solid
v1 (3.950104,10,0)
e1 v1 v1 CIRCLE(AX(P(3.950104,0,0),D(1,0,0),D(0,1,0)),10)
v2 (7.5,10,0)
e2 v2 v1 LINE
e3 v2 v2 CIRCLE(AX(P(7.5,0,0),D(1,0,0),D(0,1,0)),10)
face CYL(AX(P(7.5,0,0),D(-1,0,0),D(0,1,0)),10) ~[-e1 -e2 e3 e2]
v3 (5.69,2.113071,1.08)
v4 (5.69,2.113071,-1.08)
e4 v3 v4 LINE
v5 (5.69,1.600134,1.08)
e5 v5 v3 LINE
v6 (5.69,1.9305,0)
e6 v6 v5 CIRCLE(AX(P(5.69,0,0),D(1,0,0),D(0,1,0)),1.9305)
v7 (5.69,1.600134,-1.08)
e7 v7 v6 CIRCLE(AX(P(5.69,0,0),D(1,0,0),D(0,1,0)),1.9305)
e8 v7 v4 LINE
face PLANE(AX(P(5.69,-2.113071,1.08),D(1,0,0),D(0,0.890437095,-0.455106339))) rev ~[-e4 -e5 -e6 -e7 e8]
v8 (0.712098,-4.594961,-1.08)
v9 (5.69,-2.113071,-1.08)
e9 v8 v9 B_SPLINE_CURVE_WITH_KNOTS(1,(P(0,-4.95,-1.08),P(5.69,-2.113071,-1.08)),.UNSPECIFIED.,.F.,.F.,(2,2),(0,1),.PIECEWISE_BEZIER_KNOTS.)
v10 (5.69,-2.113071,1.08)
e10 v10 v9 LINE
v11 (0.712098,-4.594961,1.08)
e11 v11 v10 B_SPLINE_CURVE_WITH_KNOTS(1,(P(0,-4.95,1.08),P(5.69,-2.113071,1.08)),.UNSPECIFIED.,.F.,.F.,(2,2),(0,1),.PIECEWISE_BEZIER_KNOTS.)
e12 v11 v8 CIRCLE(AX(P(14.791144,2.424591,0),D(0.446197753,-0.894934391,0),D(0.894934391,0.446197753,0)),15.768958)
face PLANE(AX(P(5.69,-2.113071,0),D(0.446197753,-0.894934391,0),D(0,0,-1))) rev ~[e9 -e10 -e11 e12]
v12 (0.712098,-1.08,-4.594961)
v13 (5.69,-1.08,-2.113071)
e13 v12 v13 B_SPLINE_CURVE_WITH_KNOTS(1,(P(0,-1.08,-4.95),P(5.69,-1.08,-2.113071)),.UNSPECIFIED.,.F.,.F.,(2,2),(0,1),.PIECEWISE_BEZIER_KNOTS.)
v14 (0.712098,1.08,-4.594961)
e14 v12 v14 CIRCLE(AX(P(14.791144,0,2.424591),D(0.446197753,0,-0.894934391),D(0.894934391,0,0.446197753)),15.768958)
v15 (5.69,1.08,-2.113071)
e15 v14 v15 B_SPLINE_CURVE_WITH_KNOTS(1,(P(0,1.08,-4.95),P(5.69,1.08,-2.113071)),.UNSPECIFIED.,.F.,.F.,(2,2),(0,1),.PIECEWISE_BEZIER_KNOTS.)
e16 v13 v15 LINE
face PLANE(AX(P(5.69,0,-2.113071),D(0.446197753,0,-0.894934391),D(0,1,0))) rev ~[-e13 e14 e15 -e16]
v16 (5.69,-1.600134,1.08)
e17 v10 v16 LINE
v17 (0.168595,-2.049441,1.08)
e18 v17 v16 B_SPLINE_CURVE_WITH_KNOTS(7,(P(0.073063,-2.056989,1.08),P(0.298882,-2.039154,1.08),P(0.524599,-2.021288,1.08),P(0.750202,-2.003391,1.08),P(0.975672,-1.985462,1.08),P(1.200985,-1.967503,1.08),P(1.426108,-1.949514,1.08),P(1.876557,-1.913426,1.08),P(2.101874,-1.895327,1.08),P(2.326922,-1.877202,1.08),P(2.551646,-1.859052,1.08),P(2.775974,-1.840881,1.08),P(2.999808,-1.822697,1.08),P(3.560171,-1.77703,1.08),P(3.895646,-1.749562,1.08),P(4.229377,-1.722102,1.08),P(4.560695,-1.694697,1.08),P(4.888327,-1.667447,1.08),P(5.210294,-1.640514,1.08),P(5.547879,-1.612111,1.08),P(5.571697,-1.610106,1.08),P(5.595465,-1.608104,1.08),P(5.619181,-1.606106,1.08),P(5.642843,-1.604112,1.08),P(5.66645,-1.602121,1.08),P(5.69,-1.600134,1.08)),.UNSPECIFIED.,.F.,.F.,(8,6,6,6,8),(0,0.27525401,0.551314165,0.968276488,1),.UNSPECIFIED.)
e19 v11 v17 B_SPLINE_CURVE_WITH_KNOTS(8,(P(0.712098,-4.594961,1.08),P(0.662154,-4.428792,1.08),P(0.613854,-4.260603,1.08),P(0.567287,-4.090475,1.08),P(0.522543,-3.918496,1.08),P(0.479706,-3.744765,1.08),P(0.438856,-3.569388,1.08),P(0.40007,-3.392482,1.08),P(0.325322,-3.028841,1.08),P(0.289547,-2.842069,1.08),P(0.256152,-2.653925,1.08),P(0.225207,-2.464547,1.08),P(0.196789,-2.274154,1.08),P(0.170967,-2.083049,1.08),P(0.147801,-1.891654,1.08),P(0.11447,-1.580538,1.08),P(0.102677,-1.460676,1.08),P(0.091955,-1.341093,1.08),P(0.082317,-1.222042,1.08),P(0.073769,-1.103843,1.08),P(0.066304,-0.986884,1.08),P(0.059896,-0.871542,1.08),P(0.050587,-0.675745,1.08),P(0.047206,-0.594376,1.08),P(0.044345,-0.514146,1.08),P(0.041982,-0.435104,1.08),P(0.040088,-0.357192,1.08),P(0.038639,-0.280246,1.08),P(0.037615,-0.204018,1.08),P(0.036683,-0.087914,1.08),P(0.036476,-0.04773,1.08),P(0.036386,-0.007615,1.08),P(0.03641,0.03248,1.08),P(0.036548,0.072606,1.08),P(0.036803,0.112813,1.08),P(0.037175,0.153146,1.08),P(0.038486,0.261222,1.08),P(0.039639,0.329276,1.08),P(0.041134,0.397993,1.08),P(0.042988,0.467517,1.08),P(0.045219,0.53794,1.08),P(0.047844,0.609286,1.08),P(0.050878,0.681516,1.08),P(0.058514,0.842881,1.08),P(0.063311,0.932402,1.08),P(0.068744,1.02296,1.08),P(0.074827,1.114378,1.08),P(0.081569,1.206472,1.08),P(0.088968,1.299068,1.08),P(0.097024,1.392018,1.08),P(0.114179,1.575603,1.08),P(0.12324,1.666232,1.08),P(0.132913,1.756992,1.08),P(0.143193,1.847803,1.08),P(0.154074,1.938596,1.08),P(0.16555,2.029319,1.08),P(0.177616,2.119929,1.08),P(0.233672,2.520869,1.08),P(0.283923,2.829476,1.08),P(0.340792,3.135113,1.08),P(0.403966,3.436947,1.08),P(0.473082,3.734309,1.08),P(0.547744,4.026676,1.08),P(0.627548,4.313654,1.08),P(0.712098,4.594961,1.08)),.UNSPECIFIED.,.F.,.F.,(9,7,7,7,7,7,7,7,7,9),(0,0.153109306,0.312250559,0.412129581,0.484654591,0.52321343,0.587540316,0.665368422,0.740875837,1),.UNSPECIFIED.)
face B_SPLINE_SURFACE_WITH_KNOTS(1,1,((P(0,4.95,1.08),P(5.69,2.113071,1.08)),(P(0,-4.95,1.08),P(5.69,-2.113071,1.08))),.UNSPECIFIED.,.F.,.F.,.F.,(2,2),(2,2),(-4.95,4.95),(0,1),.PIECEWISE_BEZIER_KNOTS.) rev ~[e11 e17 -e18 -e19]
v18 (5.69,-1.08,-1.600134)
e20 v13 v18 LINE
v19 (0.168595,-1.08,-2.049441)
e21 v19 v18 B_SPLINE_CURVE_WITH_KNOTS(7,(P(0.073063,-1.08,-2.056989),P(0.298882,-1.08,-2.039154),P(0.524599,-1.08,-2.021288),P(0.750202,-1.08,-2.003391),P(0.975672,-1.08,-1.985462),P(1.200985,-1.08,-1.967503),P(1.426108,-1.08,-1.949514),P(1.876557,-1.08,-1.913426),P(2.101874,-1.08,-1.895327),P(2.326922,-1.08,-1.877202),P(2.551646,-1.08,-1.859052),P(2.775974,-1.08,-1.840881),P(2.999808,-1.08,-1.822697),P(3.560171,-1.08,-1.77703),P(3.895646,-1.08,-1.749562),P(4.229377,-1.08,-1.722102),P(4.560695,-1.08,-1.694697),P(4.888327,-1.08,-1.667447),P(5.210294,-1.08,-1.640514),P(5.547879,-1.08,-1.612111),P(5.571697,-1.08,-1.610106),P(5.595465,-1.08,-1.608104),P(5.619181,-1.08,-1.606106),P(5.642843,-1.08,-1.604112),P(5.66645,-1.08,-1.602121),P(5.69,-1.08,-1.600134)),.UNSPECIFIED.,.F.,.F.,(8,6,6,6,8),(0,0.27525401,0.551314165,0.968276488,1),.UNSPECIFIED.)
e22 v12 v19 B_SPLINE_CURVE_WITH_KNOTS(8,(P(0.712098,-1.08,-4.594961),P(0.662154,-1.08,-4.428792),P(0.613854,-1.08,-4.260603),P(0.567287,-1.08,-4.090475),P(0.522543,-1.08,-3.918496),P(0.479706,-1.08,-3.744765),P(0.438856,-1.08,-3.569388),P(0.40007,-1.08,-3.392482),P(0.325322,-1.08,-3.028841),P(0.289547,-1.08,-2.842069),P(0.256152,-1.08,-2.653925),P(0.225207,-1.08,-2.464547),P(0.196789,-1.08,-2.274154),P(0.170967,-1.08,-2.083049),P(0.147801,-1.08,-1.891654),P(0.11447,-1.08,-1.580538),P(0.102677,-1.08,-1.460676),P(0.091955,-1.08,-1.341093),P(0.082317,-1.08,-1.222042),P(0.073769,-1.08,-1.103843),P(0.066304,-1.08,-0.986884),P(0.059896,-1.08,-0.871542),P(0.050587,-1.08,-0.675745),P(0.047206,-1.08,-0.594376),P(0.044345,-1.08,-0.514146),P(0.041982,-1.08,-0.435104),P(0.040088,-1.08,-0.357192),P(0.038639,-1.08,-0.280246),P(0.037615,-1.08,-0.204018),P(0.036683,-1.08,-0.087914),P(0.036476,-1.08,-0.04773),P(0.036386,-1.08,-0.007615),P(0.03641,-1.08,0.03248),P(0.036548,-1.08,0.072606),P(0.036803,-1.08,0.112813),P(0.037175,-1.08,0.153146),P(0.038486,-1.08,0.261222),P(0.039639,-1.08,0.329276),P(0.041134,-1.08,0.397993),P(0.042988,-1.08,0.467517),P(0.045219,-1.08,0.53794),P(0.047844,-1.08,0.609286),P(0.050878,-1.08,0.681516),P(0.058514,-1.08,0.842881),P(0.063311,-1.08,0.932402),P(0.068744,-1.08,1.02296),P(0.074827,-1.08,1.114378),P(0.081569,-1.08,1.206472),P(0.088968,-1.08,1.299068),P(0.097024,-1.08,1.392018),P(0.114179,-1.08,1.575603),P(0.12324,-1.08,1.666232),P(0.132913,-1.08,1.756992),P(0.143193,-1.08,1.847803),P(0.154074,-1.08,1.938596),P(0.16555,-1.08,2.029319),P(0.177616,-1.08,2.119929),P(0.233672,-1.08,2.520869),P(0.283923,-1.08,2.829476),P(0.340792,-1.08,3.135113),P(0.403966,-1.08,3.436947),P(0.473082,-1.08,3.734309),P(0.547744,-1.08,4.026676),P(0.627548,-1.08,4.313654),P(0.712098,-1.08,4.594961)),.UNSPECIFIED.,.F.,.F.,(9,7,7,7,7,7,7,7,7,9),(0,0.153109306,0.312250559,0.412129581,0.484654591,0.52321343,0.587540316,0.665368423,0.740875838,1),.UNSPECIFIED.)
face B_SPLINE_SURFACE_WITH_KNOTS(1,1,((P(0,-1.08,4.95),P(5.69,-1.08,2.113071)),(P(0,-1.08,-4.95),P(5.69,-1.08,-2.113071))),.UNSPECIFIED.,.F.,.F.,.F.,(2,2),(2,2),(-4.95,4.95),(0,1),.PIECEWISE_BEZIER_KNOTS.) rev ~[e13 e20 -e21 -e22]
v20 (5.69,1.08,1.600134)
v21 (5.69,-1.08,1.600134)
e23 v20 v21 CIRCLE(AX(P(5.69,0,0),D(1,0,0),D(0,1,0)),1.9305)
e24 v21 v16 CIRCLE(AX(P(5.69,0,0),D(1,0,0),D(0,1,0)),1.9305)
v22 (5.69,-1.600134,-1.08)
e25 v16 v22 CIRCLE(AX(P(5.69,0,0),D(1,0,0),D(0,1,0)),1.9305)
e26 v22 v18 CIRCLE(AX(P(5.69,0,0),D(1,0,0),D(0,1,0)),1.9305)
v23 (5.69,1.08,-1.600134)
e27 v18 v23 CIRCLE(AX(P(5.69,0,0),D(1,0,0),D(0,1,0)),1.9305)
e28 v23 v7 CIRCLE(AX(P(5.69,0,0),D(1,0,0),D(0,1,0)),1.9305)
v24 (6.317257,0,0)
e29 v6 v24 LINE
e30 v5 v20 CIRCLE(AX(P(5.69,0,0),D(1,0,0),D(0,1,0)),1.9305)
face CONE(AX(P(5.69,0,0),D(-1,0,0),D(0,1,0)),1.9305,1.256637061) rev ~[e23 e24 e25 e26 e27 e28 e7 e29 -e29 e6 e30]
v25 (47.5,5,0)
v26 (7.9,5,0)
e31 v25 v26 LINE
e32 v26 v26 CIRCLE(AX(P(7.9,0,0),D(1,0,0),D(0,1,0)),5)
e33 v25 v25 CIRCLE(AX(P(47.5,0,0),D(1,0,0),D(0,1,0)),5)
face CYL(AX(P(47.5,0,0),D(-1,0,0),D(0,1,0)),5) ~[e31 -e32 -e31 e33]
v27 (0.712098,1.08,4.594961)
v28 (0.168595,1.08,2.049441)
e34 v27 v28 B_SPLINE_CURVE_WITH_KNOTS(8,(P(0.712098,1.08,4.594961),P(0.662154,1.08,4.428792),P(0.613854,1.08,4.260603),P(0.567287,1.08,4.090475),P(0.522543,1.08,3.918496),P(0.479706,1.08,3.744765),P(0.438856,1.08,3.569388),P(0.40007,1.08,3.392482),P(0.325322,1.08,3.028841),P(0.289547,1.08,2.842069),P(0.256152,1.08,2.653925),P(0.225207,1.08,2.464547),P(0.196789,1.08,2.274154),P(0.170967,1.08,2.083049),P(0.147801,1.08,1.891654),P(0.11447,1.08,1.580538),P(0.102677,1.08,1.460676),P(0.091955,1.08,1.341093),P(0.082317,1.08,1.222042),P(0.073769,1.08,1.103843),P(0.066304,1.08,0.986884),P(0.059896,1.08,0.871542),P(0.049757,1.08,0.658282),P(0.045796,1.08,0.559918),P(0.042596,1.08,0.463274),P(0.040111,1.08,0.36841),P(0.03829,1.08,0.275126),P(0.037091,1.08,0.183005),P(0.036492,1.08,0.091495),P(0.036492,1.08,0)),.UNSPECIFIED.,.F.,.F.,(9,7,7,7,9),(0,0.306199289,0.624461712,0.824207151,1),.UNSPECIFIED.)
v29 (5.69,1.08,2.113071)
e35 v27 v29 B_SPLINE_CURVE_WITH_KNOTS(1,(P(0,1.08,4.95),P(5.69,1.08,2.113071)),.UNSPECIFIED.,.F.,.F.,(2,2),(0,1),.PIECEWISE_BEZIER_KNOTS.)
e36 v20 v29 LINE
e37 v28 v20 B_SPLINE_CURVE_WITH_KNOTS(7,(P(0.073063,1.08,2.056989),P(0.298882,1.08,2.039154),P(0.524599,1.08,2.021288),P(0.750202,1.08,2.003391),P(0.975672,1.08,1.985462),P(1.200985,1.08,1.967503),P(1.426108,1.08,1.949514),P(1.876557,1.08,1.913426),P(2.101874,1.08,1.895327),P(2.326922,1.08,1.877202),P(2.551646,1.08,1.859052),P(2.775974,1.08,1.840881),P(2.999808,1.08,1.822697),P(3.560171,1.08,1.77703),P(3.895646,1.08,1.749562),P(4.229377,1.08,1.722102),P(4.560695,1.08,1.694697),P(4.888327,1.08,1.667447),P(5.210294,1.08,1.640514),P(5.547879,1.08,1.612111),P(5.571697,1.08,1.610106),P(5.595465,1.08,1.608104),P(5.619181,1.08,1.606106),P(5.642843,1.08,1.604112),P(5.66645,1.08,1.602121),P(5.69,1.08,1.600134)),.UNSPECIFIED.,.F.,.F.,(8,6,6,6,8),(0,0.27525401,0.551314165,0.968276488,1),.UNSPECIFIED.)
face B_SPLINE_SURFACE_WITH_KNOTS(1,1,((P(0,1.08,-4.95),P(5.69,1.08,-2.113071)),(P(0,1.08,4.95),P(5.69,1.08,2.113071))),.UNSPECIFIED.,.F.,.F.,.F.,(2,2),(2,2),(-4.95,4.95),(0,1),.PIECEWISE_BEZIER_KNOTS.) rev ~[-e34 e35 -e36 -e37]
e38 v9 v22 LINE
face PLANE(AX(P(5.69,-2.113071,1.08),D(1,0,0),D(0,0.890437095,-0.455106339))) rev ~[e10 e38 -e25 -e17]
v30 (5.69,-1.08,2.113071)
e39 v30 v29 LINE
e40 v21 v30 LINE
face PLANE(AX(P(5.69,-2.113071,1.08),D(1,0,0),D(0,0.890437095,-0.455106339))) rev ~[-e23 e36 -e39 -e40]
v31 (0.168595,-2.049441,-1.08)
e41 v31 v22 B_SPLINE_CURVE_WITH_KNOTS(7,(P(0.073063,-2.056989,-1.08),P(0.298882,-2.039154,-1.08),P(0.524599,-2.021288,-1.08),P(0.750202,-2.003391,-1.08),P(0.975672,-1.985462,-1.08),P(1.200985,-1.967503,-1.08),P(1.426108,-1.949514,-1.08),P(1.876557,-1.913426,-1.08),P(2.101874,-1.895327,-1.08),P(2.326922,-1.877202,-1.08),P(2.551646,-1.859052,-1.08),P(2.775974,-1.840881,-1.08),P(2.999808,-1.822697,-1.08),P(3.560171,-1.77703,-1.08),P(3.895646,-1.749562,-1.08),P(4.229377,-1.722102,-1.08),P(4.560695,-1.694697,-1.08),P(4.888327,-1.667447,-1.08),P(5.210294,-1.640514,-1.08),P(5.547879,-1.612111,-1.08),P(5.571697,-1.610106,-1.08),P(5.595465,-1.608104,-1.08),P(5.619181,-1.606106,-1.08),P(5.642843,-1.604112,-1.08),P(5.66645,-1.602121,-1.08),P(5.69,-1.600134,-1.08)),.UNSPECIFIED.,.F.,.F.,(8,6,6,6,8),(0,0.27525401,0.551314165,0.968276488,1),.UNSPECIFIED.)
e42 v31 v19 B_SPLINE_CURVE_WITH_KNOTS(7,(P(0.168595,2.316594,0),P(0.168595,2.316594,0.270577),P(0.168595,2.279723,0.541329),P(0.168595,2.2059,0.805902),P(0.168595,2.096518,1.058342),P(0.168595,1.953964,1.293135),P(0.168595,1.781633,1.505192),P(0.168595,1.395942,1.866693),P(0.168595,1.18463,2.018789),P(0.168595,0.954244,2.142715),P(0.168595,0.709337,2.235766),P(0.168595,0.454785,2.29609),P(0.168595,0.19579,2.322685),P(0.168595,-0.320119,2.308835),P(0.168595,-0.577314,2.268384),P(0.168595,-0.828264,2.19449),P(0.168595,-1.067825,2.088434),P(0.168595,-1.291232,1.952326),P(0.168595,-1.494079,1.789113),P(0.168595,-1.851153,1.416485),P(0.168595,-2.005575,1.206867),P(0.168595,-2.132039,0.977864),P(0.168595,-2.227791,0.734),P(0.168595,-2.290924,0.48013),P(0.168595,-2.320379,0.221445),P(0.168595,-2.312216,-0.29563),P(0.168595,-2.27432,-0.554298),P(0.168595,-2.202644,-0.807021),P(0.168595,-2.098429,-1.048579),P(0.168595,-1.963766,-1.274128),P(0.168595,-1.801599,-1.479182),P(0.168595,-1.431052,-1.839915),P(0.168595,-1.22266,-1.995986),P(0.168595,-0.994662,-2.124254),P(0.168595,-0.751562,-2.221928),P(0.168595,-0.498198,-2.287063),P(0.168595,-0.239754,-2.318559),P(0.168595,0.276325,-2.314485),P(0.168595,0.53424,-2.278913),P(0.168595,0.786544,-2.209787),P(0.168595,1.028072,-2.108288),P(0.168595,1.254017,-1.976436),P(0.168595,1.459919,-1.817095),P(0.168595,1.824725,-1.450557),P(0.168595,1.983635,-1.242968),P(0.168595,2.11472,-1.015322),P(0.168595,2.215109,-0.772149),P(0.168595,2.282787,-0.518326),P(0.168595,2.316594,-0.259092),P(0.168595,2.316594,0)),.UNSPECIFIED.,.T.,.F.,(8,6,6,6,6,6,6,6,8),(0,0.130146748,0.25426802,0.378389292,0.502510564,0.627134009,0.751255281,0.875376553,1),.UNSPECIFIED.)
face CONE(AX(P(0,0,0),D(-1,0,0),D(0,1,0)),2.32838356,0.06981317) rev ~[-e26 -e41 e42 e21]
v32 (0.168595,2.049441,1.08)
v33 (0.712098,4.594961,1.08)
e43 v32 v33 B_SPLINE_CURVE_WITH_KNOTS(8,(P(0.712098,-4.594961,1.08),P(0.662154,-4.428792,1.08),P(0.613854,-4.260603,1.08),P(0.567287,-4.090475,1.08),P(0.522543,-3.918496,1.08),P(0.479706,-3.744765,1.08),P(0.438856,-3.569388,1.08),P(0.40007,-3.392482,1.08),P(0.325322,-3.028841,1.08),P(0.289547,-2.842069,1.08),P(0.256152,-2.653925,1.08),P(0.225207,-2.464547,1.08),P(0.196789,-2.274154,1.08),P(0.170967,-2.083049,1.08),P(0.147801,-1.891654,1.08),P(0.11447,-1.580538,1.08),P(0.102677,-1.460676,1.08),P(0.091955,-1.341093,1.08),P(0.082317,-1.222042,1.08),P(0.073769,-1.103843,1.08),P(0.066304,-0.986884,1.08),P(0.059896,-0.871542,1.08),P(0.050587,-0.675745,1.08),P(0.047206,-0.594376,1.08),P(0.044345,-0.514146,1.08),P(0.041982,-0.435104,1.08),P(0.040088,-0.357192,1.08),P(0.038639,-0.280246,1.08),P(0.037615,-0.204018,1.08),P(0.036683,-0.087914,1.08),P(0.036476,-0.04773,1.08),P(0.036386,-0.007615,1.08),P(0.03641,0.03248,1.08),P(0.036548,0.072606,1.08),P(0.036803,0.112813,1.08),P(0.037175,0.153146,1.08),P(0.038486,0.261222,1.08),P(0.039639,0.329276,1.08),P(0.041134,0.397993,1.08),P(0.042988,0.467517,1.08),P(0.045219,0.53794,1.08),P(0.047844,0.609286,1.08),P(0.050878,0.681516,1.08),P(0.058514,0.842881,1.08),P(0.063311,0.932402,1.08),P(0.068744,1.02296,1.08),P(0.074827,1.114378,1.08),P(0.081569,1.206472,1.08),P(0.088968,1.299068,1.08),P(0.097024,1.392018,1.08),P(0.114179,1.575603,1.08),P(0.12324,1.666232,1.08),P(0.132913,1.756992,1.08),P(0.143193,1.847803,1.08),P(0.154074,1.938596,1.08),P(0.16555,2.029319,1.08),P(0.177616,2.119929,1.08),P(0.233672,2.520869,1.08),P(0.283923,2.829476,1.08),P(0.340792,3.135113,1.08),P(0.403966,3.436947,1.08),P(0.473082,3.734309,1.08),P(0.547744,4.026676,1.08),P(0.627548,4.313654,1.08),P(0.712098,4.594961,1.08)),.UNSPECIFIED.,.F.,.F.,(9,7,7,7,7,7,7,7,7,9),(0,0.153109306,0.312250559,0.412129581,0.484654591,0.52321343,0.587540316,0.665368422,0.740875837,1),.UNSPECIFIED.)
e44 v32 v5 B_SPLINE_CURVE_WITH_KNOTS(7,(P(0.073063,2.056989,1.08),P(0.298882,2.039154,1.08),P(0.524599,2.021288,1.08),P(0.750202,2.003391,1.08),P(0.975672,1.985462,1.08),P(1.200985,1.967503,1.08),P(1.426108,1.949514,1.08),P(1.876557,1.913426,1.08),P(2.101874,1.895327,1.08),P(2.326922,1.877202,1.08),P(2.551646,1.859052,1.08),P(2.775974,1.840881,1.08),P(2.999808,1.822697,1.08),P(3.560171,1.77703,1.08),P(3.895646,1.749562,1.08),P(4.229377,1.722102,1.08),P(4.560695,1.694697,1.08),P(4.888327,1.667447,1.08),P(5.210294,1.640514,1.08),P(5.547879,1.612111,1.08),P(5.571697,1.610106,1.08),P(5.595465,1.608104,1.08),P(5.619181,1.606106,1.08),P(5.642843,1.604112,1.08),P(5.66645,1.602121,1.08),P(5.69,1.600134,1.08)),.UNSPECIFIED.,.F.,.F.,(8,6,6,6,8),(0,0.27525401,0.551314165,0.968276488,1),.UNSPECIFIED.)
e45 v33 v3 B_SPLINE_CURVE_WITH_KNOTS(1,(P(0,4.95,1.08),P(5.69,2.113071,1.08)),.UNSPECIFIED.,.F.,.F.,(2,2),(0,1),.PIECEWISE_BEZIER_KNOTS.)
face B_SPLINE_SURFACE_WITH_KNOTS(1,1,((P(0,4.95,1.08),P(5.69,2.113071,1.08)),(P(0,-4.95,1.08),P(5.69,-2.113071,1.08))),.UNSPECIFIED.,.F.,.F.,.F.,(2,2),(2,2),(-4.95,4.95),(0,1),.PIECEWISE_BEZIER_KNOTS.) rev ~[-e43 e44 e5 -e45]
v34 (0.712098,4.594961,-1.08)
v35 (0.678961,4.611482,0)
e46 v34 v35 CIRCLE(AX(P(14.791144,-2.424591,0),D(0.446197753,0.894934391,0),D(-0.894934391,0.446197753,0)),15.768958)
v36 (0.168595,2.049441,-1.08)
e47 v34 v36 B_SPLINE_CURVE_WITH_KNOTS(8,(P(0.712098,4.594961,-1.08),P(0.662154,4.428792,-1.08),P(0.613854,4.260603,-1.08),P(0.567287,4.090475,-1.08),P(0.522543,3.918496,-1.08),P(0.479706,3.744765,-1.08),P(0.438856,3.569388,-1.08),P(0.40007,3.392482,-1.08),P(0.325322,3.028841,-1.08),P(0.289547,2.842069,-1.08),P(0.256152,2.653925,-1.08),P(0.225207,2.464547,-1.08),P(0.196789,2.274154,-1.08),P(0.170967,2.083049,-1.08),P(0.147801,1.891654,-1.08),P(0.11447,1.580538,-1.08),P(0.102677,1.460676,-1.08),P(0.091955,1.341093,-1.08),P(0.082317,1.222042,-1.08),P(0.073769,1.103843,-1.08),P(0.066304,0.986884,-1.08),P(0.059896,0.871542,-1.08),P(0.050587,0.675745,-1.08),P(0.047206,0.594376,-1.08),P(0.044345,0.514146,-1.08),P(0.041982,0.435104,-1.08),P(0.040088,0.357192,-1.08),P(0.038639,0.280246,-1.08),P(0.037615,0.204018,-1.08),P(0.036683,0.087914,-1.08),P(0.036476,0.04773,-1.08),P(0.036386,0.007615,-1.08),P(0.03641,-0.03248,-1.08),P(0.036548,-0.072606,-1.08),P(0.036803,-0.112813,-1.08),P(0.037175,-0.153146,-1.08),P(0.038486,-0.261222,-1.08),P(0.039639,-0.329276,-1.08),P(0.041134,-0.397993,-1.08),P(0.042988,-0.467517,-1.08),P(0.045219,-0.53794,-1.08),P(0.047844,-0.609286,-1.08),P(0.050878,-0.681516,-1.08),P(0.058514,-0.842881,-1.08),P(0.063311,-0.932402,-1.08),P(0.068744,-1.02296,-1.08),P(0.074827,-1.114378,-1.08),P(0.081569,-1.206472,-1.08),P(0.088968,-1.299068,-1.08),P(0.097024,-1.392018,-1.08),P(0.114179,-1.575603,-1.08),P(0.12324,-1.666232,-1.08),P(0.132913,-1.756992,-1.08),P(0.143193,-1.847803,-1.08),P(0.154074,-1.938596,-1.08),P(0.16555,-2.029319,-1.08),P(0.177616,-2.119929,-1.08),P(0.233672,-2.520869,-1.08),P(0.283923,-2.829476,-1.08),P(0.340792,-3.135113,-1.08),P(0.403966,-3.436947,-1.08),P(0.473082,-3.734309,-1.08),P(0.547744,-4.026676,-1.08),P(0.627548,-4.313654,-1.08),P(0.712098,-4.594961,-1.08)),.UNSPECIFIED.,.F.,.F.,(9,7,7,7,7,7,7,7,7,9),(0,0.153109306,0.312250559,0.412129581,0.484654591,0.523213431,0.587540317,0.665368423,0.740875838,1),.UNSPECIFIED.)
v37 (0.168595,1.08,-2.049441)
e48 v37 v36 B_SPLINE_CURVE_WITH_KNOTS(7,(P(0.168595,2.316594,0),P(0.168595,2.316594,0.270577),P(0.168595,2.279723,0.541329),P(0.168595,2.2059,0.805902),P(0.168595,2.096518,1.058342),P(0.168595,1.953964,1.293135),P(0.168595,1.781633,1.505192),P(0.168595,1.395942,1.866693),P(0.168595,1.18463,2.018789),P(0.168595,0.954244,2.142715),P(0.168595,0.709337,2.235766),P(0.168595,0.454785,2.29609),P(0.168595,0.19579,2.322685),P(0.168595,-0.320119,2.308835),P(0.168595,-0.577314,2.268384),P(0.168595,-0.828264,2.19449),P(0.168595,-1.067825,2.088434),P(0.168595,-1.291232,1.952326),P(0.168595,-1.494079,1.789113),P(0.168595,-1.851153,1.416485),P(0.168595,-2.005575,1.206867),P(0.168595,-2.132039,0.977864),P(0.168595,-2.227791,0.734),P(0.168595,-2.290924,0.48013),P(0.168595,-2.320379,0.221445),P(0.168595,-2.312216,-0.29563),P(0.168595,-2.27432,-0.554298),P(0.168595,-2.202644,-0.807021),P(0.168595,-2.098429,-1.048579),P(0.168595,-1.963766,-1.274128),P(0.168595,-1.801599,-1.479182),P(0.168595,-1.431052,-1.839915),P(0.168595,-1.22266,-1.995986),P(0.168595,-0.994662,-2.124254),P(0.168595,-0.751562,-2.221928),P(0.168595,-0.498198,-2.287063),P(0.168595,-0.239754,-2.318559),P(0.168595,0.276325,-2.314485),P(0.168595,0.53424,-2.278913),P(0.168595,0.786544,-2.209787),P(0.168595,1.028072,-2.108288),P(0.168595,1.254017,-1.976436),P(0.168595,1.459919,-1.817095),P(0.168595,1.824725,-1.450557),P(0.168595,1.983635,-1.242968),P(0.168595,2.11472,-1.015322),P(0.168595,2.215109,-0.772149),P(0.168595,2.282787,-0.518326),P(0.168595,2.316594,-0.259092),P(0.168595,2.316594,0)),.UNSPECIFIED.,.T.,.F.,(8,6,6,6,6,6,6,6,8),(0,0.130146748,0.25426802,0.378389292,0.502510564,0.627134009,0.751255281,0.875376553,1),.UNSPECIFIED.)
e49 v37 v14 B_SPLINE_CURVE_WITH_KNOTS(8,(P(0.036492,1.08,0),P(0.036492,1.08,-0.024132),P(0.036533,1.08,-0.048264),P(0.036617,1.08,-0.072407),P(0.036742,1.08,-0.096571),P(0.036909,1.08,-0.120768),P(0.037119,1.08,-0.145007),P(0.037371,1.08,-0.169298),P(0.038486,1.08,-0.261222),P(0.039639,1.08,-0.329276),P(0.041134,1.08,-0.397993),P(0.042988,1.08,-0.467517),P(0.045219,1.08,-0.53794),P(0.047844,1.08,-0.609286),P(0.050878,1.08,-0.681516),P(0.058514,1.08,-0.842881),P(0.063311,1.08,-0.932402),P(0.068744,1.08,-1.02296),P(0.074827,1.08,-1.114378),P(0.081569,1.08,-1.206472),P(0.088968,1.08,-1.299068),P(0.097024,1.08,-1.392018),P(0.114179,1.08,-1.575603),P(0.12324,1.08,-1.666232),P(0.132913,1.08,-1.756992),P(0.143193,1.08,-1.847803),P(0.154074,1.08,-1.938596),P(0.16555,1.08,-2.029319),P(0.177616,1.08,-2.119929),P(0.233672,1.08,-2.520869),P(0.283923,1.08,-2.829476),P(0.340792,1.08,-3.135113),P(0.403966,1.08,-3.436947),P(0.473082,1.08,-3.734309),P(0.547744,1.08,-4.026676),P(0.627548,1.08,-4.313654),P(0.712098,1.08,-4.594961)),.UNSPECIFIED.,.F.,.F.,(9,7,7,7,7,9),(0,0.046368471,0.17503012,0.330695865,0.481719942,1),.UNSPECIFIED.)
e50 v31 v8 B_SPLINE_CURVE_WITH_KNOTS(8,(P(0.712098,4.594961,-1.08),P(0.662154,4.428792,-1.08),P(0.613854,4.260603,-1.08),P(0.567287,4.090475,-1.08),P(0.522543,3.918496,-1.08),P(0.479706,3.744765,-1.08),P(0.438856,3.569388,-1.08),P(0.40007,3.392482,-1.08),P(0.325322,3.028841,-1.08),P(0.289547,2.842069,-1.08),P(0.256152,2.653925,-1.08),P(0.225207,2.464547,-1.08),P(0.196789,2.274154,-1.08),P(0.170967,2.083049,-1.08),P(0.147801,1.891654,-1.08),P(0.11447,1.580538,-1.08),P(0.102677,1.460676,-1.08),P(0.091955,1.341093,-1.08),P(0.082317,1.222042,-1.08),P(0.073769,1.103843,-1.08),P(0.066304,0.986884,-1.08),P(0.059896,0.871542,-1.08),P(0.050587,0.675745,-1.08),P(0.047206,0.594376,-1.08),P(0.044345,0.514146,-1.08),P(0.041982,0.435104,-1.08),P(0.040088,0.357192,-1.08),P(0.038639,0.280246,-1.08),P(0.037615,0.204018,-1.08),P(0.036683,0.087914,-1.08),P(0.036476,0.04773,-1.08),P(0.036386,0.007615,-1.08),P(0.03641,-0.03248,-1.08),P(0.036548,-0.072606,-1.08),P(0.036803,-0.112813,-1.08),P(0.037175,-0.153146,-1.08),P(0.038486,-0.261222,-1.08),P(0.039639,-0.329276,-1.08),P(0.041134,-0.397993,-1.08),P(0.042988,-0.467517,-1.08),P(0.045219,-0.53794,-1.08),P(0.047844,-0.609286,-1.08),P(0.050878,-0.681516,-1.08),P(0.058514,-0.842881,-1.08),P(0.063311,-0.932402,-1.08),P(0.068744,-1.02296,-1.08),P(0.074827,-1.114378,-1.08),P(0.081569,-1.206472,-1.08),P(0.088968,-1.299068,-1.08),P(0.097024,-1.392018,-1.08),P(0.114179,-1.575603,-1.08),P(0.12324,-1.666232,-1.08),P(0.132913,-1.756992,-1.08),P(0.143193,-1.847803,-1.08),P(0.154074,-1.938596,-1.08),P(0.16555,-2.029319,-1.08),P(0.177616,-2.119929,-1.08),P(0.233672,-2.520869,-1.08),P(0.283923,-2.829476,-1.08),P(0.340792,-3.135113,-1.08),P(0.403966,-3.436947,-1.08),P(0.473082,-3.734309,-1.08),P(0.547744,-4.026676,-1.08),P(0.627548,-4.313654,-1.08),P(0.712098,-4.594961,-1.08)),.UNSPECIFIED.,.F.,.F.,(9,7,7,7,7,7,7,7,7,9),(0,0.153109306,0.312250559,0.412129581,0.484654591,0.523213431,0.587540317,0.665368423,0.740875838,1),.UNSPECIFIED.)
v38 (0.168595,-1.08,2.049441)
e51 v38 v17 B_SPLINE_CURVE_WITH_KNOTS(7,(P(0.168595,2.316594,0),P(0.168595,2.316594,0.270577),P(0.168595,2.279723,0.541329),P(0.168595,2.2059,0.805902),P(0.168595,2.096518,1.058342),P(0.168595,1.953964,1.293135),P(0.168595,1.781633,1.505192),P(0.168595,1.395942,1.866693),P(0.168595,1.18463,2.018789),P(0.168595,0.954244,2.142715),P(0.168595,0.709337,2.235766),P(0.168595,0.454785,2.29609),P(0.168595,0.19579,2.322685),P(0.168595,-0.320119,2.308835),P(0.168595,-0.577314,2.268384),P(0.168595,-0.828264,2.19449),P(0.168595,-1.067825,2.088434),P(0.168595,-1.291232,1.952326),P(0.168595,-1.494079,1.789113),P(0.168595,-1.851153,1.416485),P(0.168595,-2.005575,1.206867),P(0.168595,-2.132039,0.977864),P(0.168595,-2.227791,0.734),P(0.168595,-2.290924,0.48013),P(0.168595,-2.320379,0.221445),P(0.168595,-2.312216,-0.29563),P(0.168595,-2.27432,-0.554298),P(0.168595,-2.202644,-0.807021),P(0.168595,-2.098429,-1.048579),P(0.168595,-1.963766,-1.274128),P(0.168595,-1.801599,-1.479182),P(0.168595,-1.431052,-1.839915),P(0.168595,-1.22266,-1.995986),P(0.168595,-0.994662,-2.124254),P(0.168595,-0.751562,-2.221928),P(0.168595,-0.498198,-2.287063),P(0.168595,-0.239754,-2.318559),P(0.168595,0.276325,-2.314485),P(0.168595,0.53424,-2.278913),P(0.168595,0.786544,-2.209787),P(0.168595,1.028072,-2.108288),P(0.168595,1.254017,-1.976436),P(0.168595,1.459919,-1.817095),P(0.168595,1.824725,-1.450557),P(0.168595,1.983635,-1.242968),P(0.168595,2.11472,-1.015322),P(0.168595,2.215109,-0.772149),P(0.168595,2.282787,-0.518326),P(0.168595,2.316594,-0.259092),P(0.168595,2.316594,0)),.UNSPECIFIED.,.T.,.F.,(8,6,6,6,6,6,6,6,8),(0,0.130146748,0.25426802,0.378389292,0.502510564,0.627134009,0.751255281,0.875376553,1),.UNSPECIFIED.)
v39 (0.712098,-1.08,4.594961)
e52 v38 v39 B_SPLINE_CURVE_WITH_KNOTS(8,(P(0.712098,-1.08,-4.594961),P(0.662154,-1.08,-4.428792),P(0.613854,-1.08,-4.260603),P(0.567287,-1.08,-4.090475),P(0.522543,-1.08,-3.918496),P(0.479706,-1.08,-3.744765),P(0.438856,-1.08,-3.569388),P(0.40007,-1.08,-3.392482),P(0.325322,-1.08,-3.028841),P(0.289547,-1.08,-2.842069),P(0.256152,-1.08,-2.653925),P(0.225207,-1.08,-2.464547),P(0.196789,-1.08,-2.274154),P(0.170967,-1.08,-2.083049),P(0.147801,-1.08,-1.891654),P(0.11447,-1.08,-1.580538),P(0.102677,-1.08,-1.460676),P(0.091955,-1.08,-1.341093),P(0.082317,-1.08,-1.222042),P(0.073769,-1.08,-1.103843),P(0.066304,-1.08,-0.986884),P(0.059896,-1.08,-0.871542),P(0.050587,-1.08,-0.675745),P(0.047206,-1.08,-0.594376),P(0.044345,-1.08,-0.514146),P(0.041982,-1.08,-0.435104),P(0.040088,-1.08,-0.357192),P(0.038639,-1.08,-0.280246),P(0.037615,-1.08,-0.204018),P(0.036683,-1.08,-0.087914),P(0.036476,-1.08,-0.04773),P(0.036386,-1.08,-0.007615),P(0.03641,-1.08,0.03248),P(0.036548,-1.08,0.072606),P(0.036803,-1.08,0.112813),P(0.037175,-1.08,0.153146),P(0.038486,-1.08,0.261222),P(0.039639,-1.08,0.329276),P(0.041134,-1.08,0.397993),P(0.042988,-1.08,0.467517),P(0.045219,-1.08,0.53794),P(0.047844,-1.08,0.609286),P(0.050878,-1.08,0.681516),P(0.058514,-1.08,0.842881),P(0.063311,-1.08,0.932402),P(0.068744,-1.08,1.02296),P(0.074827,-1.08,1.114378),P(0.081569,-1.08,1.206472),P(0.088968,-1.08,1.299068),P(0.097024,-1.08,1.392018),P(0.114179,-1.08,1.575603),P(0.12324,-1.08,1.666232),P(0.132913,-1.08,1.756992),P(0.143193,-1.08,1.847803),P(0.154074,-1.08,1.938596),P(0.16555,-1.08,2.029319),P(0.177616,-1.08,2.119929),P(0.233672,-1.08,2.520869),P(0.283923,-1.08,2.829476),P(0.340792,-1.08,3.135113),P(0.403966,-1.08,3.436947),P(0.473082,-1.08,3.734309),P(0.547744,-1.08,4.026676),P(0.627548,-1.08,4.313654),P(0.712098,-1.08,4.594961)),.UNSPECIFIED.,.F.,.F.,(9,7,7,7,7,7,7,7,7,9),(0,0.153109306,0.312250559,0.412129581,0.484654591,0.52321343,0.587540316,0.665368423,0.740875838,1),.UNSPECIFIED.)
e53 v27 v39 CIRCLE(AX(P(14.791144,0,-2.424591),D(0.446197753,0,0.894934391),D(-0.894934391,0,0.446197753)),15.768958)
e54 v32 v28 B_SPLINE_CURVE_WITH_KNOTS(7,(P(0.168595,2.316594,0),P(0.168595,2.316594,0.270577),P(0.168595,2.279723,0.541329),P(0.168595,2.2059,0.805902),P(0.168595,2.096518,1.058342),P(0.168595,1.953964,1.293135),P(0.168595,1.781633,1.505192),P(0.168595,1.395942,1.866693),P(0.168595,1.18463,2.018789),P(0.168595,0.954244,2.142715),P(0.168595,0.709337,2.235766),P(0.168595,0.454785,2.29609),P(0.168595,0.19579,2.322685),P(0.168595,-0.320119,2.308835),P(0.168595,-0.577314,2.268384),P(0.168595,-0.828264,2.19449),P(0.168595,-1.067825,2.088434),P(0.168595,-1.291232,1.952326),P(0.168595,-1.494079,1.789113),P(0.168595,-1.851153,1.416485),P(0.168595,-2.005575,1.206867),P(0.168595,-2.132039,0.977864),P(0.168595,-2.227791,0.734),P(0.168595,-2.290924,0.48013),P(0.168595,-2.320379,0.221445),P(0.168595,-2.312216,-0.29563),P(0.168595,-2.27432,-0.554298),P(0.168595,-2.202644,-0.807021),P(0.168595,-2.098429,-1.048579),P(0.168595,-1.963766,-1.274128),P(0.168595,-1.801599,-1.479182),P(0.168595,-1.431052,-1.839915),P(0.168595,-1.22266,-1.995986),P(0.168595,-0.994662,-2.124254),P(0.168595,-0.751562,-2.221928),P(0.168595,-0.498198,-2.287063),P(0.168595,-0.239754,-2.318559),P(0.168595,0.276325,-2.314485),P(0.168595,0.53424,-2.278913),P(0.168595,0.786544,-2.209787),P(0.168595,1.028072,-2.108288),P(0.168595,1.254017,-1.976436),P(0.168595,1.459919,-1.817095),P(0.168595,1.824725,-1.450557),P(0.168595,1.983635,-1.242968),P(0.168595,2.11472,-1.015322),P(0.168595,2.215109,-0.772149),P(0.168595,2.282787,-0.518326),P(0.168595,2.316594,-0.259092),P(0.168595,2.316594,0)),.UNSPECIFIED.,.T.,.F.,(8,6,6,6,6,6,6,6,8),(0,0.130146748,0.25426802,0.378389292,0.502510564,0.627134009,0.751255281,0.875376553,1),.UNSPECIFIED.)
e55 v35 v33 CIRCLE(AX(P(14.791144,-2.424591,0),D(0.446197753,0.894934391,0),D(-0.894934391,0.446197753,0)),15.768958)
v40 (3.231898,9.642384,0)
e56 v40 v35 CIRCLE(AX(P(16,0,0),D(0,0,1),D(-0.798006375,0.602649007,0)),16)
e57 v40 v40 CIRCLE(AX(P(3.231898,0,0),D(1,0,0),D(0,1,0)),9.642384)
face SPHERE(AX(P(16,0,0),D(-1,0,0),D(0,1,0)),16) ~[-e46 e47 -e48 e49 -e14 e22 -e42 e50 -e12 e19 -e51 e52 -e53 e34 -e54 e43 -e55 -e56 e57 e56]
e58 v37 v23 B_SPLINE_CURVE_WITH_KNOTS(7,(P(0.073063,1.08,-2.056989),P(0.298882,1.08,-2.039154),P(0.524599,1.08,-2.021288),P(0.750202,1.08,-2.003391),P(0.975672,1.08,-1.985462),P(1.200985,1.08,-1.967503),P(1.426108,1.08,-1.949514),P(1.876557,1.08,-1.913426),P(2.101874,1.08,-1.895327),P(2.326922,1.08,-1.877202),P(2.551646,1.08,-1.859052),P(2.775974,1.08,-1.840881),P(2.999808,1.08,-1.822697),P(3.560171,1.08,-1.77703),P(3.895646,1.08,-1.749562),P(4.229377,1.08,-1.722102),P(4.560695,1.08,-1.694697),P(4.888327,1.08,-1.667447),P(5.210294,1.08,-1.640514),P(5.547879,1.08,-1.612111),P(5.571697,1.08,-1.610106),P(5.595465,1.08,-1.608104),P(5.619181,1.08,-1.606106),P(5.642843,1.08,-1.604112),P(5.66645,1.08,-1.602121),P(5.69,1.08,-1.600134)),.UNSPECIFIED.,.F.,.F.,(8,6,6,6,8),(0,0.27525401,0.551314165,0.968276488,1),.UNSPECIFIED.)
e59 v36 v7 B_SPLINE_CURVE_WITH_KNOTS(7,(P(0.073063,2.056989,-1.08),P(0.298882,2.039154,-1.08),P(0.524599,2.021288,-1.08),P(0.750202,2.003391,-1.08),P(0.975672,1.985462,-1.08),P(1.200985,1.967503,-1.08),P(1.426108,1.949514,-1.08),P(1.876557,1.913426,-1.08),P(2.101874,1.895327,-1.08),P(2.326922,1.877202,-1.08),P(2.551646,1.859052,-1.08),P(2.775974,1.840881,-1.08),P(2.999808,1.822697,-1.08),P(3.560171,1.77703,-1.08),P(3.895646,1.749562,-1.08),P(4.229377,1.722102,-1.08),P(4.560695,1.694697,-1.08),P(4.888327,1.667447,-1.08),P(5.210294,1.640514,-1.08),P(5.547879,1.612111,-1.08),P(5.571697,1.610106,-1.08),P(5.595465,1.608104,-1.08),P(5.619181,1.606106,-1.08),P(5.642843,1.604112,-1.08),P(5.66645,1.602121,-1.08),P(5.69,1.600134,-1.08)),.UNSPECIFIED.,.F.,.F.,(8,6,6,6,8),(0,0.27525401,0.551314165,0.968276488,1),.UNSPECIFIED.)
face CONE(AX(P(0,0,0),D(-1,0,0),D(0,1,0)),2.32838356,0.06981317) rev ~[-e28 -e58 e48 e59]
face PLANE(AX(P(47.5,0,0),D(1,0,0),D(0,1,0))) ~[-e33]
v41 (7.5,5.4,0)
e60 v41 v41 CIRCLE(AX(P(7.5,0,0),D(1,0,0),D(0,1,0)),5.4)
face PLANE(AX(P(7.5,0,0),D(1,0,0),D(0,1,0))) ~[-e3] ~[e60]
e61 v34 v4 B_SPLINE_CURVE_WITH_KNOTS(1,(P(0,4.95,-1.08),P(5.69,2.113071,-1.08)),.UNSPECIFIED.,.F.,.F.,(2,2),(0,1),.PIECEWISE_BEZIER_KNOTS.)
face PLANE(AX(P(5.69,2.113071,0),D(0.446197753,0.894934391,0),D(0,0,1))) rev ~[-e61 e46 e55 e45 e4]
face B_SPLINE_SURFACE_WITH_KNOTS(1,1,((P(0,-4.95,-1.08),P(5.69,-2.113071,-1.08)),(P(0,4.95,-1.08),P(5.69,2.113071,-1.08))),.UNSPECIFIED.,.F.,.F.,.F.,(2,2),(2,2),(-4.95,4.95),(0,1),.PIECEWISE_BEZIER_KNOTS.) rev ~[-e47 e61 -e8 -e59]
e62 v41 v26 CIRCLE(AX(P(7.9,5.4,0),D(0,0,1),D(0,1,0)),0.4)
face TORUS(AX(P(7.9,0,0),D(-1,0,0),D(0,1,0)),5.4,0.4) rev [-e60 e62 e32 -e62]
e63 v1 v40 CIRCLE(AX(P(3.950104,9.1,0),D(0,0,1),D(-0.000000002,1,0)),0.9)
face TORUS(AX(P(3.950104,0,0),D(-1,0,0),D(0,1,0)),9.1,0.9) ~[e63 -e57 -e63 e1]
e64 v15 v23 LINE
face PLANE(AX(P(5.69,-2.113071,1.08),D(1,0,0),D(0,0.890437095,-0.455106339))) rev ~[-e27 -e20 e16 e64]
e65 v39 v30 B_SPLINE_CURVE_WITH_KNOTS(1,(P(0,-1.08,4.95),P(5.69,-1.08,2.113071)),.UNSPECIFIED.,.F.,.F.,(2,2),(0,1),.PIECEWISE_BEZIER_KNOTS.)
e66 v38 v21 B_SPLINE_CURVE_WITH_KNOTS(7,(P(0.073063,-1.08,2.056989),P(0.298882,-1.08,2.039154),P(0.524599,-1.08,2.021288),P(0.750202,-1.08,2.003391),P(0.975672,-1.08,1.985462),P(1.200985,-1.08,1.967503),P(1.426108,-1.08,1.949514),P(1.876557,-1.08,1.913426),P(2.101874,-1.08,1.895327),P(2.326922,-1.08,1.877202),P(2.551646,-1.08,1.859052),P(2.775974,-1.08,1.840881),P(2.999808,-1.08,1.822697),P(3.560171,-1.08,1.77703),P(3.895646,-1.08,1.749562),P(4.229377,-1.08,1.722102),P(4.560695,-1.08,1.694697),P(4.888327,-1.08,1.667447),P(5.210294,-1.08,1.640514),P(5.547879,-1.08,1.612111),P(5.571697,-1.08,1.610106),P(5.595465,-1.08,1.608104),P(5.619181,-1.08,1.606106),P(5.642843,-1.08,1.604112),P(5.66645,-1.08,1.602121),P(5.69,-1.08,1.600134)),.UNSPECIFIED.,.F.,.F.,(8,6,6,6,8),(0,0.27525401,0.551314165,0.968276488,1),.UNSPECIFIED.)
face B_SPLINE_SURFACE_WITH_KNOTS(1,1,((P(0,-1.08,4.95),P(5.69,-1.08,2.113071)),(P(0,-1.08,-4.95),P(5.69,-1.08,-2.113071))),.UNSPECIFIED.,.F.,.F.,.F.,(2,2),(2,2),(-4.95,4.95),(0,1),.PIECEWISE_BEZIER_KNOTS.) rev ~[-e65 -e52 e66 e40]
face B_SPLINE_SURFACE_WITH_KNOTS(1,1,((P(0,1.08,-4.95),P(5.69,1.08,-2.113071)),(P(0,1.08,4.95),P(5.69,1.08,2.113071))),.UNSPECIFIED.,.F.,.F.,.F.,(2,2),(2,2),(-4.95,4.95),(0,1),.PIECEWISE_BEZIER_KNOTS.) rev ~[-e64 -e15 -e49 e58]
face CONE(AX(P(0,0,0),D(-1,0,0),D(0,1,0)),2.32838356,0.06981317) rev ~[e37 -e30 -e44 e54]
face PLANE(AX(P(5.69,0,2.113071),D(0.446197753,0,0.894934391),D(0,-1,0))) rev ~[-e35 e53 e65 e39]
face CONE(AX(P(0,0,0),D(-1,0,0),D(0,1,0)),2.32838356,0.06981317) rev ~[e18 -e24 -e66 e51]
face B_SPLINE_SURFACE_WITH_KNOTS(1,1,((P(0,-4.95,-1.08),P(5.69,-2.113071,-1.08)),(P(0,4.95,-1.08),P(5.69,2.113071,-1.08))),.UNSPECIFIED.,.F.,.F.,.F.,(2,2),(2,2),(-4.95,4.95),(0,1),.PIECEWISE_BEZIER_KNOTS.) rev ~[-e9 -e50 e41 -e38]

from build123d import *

# Parameters (mm, degrees)
FILLET1_R    = 0.4
SKETCH3_W    = 2.16
SKETCH3_H    = 9.9
SKETCH4_W    = 2.16
SKETCH4_H    = 4.22614225
RECPAT_COUNT = 2
RECPAT_ANGLE = 90


with BuildPart() as part:
    # BodySke → Base-Revolve (revolve)
    with BuildSketch(Plane.XY):
        with BuildLine():
            Line((7.5, 5), (7.5, 10))
            Line((7.5, 10), (3.950103735, 10))
            ThreePointArc((3.950103735, 10), (3.548946469, 9.905650574), (3.231897997, 9.642384106))
            ThreePointArc((3.231897997, 9.642384106), (0.82947542, 5.084799306), (0, 0))
            Line((0, 0), (47.5, 0))
            Line((47.5, 0), (47.5, 5))
            Line((47.5, 5), (7.5, 5))
        make_face()
    revolve(axis=Axis((-25.4, 0, 0), (1, 0, 0)))

    # Fillet1
    fillet1_edges = [part.edges().sort_by_distance(p)[0] for p in [
        (7.5, -5, 0),
    ]]
    fillet(fillet1_edges, radius=FILLET1_R)

    # Sketch3 → Recess section 0
    with BuildSketch(Plane(origin=(0, 0, 0), x_dir=(0, 0, -1), z_dir=(1, 0, 0))):
        Rectangle(SKETCH3_W, SKETCH3_H)
    # Sketch4 → Recess section 1
    with BuildSketch(Plane(origin=(5.69, 0, 0), x_dir=(0, 0, -1), z_dir=(1, 0, 0))):
        Rectangle(SKETCH4_W, SKETCH4_H)
    recess = loft(mode=Mode.SUBTRACT)

    # RecPat: Recess ×2 about axis
    recpat_axis = Axis((0, 0, 0), (1, 0, 0))
    for i in range(1, RECPAT_COUNT):
        add(recess.rotate(recpat_axis, i * RECPAT_ANGLE / (RECPAT_COUNT - 1)), mode=Mode.SUBTRACT)

    # RecCorSke → RecessCore (revolve, cut)
    with BuildSketch(Plane.XY):
        Polygon((0, 0), (0, 2.32838356), (5.69, 1.9305), (6.317257474, 0), align=None)
    revolve(axis=Axis((-3.175, 0, 0), (1, 0, 0)), mode=Mode.SUBTRACT)


solid = part.part
